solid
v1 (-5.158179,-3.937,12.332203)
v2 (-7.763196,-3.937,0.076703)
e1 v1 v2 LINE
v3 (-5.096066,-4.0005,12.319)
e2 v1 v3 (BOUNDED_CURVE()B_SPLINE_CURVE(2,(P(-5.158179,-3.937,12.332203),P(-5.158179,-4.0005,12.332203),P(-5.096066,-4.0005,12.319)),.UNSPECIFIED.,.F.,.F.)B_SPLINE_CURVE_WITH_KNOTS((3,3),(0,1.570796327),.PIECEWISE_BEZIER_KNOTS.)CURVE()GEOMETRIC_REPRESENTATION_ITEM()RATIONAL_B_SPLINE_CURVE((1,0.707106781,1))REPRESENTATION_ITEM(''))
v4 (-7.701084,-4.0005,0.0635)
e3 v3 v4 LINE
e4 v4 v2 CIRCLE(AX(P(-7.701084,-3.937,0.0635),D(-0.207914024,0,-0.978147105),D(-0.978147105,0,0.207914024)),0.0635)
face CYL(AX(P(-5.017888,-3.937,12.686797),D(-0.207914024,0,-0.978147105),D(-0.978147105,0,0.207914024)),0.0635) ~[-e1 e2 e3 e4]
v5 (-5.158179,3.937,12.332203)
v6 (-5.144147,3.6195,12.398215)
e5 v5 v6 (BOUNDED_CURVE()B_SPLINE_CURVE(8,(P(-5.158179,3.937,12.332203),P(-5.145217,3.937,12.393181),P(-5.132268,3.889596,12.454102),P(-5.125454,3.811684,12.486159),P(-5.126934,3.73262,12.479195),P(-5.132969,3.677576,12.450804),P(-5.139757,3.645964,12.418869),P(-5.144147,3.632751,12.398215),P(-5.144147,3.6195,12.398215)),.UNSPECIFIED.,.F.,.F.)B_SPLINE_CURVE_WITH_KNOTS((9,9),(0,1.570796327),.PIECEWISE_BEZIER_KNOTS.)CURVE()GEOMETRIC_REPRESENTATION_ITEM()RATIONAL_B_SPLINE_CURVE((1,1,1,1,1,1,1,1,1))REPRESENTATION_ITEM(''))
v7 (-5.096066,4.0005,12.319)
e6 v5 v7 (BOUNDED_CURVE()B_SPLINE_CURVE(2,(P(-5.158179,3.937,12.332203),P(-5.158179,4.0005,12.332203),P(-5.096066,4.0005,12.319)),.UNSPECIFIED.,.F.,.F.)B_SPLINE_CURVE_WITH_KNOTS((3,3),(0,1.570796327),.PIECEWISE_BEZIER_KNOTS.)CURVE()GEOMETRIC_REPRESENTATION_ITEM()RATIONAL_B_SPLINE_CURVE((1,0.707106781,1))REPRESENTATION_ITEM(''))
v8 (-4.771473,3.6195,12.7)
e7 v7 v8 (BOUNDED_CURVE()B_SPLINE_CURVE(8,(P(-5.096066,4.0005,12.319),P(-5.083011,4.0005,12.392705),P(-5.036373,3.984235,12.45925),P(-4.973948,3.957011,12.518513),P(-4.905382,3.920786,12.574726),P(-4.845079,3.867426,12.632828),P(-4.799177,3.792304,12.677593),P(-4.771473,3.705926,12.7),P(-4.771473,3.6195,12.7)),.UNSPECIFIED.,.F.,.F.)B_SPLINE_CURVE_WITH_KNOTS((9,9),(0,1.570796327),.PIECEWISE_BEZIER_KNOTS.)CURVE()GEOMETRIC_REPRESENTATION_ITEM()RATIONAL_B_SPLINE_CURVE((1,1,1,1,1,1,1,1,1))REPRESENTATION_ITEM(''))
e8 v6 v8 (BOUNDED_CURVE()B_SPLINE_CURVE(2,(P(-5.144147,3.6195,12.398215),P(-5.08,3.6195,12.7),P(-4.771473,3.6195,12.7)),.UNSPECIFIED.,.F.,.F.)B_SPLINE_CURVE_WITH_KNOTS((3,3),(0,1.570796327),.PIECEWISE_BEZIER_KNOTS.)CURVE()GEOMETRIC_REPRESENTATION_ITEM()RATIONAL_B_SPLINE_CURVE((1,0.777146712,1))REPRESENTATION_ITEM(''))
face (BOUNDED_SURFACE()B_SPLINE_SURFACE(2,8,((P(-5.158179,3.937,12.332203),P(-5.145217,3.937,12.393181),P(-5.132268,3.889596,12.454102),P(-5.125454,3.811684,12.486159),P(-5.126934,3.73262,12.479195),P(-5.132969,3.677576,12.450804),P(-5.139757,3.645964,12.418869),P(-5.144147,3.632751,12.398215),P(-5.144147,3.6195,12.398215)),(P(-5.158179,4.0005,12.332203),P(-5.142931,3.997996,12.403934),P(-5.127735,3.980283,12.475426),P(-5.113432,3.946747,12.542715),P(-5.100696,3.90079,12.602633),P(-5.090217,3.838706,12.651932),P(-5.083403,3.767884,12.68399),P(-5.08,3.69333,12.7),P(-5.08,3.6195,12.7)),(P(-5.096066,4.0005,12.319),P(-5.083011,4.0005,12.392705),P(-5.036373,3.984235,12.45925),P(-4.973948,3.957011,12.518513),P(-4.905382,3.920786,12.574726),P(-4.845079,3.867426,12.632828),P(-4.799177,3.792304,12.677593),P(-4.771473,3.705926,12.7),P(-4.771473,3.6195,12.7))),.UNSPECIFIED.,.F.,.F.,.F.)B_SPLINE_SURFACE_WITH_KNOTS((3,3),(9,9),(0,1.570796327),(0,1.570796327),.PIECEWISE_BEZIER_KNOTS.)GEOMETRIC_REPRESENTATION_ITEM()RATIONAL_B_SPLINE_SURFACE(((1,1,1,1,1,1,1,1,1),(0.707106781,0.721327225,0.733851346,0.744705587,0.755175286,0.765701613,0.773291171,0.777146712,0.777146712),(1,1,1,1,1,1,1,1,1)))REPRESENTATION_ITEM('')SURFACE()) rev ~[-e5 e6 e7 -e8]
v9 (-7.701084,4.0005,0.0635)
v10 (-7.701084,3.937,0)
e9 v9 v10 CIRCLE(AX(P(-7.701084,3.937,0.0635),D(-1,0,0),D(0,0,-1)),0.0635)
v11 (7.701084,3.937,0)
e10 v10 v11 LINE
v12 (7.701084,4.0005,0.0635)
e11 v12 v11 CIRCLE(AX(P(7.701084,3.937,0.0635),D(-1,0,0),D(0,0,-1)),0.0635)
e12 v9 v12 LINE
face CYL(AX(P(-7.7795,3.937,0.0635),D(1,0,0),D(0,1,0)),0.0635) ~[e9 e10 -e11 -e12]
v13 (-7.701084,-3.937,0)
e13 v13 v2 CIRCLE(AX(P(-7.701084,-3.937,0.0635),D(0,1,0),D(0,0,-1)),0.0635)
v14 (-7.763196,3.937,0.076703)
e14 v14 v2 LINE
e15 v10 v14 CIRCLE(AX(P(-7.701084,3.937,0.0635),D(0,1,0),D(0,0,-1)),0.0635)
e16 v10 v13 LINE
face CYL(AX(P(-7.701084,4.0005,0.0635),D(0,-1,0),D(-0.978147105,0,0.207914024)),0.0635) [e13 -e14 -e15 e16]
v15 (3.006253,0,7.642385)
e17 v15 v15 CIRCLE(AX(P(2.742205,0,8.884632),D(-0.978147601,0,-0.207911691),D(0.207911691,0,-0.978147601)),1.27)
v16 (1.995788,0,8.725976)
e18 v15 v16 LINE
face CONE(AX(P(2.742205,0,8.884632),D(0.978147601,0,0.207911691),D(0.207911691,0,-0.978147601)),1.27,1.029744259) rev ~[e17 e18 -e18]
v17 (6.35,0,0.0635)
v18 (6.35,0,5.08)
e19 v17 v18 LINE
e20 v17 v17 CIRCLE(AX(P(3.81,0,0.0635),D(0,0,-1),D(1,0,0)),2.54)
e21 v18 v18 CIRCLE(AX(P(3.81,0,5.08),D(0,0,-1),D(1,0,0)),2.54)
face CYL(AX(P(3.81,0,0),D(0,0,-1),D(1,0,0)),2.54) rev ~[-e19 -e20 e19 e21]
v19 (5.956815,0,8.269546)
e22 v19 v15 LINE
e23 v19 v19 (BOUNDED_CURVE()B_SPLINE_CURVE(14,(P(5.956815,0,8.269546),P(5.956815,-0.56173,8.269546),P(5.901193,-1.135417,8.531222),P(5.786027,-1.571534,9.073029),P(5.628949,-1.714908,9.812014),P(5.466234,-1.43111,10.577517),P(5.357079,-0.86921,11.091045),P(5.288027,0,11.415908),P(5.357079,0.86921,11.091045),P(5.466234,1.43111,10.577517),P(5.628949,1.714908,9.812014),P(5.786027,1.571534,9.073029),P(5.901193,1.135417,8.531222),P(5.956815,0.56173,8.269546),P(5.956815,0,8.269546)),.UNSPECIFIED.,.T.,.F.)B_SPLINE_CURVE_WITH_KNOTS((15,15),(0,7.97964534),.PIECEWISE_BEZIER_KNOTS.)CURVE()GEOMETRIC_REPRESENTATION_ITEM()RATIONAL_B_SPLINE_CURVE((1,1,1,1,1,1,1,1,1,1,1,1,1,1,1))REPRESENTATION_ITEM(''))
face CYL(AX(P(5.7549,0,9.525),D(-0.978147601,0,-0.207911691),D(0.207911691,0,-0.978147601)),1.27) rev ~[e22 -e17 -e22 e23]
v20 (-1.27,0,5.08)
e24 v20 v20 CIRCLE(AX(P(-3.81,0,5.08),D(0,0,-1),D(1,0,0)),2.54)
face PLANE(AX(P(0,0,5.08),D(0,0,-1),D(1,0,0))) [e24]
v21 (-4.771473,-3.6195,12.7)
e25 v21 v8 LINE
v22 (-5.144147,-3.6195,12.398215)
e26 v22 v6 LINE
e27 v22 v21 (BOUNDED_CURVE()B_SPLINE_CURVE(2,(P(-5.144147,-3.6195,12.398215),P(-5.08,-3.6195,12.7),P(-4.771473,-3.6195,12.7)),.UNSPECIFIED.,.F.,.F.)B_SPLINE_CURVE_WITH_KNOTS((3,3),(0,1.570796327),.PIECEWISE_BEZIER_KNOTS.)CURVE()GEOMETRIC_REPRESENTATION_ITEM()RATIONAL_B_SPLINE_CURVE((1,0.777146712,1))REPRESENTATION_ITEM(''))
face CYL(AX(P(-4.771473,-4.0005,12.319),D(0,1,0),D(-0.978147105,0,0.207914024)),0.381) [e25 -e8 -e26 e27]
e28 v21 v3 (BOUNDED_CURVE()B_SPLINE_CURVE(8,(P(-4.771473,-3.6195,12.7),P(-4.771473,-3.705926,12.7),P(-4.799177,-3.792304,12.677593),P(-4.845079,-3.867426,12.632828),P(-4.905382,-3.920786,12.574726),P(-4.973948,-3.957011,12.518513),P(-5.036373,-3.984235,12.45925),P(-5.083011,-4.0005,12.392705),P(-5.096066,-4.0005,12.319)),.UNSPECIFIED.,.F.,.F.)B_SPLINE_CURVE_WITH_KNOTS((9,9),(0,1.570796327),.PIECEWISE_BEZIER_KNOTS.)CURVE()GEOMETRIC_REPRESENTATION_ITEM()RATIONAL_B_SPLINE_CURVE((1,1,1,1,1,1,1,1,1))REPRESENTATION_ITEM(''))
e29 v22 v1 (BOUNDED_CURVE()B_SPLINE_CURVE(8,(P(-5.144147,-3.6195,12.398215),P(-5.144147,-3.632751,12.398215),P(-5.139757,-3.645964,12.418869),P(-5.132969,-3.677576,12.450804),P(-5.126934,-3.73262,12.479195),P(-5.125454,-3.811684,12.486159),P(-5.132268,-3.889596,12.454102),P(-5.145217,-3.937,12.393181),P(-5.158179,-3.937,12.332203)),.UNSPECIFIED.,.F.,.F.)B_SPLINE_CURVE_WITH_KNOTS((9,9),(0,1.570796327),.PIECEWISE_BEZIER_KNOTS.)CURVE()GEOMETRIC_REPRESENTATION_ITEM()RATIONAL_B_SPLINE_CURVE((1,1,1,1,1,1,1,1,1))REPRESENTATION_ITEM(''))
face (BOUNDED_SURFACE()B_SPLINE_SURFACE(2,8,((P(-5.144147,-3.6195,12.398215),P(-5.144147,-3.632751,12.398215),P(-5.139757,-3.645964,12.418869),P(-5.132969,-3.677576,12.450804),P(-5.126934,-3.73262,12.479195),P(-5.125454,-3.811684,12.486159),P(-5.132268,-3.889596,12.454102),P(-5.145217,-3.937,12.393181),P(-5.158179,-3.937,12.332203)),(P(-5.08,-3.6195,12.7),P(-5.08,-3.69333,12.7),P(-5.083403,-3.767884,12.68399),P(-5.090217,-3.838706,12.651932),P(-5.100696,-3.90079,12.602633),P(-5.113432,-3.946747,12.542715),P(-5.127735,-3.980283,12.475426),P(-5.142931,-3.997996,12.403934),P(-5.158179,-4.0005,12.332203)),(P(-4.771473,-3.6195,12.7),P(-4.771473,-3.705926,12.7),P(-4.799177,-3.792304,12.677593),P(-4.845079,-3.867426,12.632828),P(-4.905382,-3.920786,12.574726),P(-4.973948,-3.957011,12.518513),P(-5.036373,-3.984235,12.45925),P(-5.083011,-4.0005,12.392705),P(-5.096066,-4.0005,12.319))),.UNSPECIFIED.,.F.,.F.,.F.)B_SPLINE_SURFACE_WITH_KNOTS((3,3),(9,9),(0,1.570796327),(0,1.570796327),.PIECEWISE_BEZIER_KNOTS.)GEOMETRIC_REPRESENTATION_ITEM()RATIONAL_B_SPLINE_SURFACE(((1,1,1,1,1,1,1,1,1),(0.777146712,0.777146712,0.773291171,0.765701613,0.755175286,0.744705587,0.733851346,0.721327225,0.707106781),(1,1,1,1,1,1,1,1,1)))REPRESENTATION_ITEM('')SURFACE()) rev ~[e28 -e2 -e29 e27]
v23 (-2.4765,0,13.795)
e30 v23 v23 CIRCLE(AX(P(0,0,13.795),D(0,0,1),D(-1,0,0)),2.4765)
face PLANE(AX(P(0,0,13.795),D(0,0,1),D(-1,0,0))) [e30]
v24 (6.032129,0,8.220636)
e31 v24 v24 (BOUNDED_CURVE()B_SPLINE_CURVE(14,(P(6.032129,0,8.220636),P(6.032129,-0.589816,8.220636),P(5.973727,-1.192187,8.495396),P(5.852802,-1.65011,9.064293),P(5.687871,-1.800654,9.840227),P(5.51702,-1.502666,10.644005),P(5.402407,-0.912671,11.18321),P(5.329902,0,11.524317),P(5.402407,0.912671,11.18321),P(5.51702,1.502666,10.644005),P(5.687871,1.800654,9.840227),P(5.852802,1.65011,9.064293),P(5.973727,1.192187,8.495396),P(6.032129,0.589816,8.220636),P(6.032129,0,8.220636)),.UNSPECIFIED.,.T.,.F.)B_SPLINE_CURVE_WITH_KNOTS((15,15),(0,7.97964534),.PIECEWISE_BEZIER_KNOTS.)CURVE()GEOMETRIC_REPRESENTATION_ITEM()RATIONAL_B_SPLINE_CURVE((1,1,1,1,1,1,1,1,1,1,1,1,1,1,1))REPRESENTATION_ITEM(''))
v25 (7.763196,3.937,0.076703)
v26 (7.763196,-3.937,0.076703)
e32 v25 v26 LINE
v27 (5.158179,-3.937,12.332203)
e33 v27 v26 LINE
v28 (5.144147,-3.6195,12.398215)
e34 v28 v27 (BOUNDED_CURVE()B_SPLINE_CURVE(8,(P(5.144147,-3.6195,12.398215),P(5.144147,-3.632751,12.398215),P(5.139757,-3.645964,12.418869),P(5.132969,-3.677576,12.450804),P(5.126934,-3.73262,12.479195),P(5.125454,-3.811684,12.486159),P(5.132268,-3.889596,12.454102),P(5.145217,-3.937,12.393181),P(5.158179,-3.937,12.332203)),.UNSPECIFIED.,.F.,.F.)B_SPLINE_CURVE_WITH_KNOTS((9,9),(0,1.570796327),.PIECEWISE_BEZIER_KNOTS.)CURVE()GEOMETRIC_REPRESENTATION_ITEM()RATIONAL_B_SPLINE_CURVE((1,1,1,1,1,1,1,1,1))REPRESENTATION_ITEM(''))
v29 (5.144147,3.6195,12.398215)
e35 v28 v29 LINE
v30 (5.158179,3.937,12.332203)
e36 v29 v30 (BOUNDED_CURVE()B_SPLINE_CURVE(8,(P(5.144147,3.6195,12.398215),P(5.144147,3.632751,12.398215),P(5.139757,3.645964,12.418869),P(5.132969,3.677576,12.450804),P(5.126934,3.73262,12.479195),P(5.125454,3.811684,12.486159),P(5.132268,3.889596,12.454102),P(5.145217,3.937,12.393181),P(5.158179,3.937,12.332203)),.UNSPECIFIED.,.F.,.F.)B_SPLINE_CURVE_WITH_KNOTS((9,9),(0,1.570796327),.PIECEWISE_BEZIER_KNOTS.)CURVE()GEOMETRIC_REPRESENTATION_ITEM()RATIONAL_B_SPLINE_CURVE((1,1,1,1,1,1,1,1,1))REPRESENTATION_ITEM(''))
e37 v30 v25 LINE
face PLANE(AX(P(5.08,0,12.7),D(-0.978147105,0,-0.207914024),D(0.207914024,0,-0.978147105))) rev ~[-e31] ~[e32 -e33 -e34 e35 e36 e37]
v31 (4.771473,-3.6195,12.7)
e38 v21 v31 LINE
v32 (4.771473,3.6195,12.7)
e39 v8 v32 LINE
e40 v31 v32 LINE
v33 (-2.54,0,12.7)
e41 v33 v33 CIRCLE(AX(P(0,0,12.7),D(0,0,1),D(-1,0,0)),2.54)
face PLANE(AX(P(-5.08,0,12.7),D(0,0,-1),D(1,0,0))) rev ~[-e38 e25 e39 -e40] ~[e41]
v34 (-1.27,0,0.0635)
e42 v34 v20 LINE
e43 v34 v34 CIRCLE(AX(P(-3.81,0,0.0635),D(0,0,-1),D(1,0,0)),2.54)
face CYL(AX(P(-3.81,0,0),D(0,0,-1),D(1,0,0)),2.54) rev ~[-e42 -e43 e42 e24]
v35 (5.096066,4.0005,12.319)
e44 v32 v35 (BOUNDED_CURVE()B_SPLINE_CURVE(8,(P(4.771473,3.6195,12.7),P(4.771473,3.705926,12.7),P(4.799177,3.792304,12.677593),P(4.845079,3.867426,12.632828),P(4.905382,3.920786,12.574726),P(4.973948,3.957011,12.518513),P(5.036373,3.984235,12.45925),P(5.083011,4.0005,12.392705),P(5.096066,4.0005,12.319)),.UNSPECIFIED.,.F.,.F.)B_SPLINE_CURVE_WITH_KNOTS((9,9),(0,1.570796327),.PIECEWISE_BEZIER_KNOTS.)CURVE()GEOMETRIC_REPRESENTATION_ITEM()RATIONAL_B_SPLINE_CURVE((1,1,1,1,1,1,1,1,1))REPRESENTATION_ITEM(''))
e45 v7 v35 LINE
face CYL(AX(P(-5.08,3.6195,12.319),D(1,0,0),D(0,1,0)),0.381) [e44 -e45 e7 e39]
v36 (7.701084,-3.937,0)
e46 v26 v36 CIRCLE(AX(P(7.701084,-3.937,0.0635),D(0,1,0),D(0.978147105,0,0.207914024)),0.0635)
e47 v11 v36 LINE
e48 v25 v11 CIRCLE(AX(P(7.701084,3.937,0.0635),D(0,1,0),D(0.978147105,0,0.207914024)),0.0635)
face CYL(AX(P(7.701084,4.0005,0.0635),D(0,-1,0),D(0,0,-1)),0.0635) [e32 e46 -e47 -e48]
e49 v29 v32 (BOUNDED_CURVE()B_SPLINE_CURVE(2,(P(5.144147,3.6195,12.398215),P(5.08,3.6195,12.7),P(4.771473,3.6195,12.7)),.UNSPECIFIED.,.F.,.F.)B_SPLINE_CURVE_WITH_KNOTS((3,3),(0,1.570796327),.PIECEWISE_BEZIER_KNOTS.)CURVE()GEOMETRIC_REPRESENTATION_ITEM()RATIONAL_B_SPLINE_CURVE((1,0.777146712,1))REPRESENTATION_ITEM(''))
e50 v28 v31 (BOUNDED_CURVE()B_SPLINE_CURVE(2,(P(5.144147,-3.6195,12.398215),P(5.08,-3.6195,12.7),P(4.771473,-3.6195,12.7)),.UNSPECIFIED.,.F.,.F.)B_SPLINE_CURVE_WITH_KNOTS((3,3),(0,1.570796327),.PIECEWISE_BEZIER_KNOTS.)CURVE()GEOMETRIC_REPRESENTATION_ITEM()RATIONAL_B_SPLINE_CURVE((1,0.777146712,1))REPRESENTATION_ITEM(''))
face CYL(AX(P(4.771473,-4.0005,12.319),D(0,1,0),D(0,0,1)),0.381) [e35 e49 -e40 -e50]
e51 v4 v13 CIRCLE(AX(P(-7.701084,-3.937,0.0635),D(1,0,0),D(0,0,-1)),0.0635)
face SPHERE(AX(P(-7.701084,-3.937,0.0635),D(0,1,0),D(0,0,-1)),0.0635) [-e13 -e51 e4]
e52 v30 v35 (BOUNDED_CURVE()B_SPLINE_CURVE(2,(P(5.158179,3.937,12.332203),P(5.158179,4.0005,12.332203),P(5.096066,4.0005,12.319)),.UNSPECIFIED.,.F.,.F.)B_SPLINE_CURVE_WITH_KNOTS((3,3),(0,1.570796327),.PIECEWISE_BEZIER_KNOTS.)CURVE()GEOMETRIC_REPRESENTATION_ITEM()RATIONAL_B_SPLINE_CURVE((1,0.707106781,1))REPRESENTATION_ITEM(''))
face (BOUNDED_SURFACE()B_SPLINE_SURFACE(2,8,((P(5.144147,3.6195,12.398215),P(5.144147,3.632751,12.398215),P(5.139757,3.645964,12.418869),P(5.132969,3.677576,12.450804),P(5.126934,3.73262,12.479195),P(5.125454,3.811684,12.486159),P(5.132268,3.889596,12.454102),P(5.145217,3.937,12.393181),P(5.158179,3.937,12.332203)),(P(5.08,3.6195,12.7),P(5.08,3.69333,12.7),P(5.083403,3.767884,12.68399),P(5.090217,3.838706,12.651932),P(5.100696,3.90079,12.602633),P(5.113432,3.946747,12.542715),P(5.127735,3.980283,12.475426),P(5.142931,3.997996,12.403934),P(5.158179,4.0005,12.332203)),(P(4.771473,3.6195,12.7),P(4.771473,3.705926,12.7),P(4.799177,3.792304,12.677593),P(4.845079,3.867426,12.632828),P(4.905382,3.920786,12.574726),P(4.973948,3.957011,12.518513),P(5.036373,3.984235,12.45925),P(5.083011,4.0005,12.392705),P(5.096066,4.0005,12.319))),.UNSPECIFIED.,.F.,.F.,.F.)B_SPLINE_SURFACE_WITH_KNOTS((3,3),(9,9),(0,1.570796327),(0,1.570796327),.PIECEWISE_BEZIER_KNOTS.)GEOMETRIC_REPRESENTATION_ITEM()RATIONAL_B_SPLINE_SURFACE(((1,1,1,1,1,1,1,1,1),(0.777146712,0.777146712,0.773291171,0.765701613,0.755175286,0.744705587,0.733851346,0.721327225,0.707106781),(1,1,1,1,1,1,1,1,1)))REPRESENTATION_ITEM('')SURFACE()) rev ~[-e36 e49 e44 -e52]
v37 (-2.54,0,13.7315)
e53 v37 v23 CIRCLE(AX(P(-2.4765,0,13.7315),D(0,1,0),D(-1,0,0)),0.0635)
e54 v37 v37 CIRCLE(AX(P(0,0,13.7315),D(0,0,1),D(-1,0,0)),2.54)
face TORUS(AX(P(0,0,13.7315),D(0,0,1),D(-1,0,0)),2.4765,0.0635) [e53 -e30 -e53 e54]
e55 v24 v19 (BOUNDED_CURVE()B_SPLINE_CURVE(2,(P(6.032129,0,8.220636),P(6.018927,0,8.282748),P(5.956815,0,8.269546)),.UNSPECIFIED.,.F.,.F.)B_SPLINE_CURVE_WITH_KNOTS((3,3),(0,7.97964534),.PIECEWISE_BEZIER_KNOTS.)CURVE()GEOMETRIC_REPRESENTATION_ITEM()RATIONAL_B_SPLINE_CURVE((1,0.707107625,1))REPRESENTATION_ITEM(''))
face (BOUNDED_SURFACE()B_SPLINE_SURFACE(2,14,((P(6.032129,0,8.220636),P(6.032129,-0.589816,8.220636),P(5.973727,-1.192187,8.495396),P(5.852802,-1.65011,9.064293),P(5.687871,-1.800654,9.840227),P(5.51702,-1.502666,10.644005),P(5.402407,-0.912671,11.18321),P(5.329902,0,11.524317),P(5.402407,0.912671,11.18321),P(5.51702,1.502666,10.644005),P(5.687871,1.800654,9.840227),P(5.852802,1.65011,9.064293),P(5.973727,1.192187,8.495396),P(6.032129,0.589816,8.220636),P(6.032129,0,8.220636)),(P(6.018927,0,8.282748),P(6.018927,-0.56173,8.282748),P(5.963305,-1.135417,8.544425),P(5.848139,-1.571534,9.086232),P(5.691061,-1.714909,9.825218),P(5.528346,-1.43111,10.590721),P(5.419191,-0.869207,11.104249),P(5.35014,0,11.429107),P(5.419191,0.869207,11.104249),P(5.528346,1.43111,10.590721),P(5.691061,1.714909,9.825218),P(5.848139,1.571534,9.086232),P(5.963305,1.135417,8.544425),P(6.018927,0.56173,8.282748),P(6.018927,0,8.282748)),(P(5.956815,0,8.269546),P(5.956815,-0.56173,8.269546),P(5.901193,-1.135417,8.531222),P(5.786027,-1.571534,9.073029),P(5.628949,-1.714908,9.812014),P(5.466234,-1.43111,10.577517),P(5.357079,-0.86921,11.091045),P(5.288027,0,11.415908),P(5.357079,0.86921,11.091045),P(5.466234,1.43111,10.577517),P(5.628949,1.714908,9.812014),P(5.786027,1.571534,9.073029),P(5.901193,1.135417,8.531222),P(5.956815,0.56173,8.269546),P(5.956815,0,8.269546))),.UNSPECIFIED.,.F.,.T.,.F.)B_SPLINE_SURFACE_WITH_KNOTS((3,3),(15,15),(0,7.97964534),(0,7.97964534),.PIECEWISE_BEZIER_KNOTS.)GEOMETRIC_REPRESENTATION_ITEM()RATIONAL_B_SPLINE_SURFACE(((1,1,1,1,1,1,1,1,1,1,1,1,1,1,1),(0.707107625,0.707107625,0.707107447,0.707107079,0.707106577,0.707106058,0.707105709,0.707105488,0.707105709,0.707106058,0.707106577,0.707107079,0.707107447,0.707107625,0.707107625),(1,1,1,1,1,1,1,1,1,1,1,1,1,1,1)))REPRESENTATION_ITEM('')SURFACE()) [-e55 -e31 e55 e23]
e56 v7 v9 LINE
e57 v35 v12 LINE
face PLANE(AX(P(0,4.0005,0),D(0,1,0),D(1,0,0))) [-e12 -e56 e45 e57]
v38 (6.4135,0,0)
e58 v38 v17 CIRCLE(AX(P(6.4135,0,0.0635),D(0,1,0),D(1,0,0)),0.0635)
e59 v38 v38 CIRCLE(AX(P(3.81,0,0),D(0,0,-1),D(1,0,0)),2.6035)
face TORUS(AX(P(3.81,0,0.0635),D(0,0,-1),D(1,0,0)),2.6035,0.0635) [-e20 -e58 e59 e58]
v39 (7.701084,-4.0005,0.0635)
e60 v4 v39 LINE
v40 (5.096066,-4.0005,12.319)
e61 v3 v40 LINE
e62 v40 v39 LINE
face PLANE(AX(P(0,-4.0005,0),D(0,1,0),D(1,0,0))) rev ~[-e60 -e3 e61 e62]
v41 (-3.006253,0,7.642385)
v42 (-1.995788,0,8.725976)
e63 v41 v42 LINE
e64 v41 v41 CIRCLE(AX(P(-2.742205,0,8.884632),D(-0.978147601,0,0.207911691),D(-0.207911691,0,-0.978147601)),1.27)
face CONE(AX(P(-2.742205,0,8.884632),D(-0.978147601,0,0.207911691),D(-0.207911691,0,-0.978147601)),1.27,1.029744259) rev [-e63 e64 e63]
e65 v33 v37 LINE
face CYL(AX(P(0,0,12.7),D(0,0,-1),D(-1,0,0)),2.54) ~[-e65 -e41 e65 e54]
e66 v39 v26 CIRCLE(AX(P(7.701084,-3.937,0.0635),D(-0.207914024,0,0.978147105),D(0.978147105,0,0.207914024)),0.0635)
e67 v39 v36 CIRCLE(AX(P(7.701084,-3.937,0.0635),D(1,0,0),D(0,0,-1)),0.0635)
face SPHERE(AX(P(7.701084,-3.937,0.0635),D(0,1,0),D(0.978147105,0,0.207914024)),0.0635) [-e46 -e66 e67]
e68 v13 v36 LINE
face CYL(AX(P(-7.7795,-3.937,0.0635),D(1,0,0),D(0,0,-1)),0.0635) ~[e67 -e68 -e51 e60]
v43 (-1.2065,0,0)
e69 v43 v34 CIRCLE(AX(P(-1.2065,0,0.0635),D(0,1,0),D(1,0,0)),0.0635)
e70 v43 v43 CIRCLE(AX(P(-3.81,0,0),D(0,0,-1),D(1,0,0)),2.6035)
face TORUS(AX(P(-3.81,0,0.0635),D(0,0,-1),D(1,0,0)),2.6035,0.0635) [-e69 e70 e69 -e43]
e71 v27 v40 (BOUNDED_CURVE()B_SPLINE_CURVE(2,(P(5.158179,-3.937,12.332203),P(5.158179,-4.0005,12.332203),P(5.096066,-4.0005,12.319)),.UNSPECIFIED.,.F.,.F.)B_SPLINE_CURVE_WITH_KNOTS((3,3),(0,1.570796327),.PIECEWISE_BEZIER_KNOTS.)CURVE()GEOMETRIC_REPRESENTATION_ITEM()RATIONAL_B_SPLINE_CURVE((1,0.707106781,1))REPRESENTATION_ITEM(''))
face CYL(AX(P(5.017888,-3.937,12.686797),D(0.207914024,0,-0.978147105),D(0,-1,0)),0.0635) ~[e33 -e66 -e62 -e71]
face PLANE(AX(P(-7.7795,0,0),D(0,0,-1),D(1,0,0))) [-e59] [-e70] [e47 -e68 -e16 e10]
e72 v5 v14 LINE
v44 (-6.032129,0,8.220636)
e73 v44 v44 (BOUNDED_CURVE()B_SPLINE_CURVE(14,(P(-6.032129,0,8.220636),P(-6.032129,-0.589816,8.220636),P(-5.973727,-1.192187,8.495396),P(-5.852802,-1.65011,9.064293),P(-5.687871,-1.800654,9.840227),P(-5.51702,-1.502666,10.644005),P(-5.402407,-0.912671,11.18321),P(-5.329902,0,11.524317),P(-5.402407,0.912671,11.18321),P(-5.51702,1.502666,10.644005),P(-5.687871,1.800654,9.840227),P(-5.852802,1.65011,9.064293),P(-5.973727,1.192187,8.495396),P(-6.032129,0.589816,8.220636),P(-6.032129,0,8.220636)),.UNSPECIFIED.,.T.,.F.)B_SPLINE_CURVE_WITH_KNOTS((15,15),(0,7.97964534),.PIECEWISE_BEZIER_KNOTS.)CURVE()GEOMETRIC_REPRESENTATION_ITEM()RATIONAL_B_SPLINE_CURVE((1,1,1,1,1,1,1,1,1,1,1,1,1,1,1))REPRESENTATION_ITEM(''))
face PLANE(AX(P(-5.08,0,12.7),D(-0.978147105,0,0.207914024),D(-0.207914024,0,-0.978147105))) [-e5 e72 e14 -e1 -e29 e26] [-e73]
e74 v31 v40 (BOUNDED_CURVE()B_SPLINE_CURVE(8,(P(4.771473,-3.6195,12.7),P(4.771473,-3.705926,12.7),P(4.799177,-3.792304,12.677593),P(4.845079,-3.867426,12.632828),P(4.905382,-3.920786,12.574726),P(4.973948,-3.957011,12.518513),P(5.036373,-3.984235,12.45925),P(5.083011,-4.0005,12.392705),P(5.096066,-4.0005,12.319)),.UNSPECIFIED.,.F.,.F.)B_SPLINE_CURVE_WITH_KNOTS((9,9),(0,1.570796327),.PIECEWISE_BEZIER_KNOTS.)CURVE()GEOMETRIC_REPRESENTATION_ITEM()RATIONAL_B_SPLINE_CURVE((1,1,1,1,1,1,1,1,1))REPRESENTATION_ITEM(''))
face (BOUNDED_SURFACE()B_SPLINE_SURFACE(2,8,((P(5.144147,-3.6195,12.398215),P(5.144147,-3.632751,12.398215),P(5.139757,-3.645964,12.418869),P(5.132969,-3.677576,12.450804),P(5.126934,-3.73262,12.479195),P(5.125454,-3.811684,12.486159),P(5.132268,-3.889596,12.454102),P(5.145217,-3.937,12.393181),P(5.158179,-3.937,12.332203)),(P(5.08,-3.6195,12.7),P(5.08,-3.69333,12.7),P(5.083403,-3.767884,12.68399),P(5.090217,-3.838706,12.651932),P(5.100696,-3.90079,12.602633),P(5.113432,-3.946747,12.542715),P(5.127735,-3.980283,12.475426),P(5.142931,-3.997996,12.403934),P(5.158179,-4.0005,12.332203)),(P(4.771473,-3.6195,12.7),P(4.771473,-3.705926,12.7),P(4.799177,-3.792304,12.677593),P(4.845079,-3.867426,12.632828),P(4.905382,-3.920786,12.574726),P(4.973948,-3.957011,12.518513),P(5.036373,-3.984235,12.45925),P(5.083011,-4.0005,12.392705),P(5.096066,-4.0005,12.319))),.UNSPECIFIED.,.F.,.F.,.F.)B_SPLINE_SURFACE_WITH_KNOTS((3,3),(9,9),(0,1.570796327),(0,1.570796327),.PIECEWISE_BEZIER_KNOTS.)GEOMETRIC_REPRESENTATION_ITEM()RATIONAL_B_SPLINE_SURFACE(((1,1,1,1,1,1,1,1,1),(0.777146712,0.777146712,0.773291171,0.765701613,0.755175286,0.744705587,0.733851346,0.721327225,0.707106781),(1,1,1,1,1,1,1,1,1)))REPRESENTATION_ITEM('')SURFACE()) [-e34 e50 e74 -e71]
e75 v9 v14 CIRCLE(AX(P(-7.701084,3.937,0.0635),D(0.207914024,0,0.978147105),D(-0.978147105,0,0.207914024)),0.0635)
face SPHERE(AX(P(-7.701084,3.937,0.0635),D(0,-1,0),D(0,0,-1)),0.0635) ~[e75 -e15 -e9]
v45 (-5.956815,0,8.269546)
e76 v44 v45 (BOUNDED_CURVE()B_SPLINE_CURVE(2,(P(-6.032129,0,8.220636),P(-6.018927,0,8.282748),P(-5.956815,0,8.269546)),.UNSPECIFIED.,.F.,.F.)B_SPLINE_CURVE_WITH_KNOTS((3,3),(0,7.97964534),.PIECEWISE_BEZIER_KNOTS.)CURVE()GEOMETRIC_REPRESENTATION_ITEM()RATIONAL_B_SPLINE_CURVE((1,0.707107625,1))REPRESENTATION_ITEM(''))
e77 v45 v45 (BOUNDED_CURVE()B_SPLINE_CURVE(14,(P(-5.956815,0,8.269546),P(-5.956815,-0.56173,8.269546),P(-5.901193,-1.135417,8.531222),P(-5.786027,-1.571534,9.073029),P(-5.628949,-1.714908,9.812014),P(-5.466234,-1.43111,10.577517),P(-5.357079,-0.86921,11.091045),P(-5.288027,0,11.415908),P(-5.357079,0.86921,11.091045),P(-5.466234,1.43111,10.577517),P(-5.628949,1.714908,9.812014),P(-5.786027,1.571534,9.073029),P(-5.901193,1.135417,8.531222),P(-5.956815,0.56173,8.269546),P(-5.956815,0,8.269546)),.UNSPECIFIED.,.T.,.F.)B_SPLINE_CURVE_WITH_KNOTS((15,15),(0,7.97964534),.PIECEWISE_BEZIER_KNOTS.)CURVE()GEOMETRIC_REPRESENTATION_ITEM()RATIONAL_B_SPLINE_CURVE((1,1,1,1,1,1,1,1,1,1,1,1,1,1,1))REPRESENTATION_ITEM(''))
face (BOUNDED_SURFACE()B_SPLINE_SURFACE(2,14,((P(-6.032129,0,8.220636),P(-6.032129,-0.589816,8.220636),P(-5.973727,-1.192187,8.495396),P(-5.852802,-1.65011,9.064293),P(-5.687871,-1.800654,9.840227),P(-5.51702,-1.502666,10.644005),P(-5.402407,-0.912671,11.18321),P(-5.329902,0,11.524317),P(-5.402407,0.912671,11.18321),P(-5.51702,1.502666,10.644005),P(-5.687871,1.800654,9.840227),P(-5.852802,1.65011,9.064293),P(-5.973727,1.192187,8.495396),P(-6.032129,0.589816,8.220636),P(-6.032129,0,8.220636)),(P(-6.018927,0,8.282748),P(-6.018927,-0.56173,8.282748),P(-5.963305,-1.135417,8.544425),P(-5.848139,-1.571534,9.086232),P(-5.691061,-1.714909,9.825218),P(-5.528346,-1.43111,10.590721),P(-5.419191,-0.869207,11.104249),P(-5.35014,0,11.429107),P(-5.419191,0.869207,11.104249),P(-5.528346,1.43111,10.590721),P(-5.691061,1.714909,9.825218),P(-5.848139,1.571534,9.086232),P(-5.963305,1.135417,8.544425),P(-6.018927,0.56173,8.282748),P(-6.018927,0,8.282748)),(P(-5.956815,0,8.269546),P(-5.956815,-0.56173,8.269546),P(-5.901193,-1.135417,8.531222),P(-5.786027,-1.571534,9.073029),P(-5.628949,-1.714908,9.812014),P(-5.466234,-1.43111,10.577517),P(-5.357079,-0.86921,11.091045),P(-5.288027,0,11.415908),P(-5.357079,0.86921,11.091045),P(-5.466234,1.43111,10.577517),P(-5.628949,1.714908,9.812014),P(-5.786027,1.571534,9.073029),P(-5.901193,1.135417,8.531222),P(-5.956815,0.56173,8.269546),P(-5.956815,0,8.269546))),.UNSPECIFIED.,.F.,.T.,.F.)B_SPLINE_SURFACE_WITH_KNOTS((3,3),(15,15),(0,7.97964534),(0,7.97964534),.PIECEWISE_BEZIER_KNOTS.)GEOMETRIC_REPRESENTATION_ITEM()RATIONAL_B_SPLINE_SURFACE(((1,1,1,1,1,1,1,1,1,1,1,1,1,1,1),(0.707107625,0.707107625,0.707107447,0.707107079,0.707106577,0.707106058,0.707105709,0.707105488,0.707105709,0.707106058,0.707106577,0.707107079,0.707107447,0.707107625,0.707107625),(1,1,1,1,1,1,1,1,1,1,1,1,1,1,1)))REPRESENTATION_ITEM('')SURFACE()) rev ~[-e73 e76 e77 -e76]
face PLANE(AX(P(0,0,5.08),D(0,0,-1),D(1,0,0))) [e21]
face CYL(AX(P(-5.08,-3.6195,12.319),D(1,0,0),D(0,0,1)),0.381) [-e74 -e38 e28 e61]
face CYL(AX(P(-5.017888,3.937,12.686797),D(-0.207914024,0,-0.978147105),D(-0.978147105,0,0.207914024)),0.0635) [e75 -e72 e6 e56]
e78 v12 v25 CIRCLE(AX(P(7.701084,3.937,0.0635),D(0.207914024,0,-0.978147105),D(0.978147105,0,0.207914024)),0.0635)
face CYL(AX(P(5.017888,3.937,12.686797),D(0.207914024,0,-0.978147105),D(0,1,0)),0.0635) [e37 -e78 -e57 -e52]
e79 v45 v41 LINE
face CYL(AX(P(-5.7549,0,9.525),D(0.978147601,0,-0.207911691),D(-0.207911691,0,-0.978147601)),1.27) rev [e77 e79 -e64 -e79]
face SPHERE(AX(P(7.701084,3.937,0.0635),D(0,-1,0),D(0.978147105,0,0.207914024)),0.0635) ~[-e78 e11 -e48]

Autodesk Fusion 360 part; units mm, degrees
sketch "Body" plane through (0, 0, 0) normal (0, 1, 0) x (1, 0, 0)
  line L0 (0, 0) -> (0, -12.7) construction
  line L1 (-5.08, -12.7) -> (5.08, -12.7)
  line L2 (-7.7795, 0) -> (7.7795, 0)
  line L3 (-5.08, -12.7) -> (-7.7795, 0)
  line L4 (5.08, -12.7) -> (7.7795, 0)
  dimension "d1" = 12.7
  dimension "d2" = 10.16
  dimension "d3" = 78
extrude "Extrude1" add sketch "Body" along normal mid plane 8.001
sketch "Neck" plane through (0, 0, 12.7) normal (0, 0, 1) x (-1, 0, 0)
  line L0 (-5.08, 4.0005) -> (-5.08, -4.0005)
  line L1 (-5.08, -4.0005) -> (5.08, -4.0005)
  line L2 (5.08, -4.0005) -> (5.08, 4.0005)
  line L3 (5.08, 4.0005) -> (-5.08, 4.0005)
  circle A0 centre (0, 0) radius 2.54
  dimension "d6" = 5.08
extrude "Extrude2" add sketch "Neck" along normal blind 1.095 contours A0
sketch "LegHoles" plane through (0, 0, 0) normal (0, 0, -1) x (1, 0, 0)
  line L0 (-7.7795, 4.0005) -> (-7.7795, -4.0005)
  line L1 (-7.7795, -4.0005) -> (7.7795, -4.0005)
  line L2 (7.7795, -4.0005) -> (7.7795, 4.0005)
  line L3 (7.7795, 4.0005) -> (-7.7795, 4.0005)
  circle A0 centre (3.81, 0) radius 2.54
  circle A1 centre (-3.81, 0) radius 2.54
  dimension "d10" = 5.08
  dimension "d11" = 5.08
  dimension "d12" = 3.81
  dimension "d13" = 3.81
extrude "Extrude3" cut sketch "LegHoles" against normal blind 5.08 contours A0 | A1
sketch "HelperLine" plane through (0, -4.0005, 0) normal (0, -1, 0) x (1, 0, 0)
  line L0 (5.08, 12.7) -> (-5.08, 12.7)
  line L1 (-5.08, 12.7) -> (-7.7795, 0)
  line L2 (-7.7795, 0) -> (7.7795, 0)
  line L3 (7.7795, 0) -> (5.08, 12.7)
  line L4 (-5.7549, 9.525) -> (5.7549, 9.525)
  dimension "d16" = 9.525
sketch "ArmHoles" plane through (7.4432, 0, 1.5821) normal (0.9781, 0, 0.2079) x (0, 1, 0)
  line L0 (-4.0005, -1.6174) -> (4.0005, -1.6174)
  line L1 (4.0005, -1.6174) -> (4.0005, 11.3663)
  line L2 (4.0005, 11.3663) -> (-4.0005, 11.3663)
  line L3 (-4.0005, 11.3663) -> (-4.0005, -1.6174)
  line L4 (-4.0005, 10.5134) -> (-4.0005, 8.1204)
  line L5 (-4.0005, 8.1204) -> (0, 8.1204)
hole "Hole1" at (5.7549, 0, 9.525) direction (-0.9781, 0, -0.2079) diameter 2.54 depth 3.08 tip angle 118
mirror "Mirror1" about plane through (0, 0, 0) normal (1, 0, 0) of "Hole1"
fillet "Fillet1" radius 0.381 4 edges at (0, -4.0005, 12.7) (-5.08, 0, 12.7) (0, 4.0005, 12.7) (5.08, 0, 12.7)
fillet "Fillet1" radius 0.0635 7 edges at (6.4297, -4.0005, 6.35) (6.4297, 4.0005, 6.35) (-6.4297, -4.0005, 6.35) (-6.4297, 4.0005, 6.35) (2.3681, 0.9185, 13.795) (5.6594, -1.1841, 9.9742) (-5.8504, -1.1841, 9.0758) 1 faces at (-1.0816, 3.4924, 0)
equation "d13 = d12"
equation "d18 = ( 1.27 * 2 ) * 1 mm"
